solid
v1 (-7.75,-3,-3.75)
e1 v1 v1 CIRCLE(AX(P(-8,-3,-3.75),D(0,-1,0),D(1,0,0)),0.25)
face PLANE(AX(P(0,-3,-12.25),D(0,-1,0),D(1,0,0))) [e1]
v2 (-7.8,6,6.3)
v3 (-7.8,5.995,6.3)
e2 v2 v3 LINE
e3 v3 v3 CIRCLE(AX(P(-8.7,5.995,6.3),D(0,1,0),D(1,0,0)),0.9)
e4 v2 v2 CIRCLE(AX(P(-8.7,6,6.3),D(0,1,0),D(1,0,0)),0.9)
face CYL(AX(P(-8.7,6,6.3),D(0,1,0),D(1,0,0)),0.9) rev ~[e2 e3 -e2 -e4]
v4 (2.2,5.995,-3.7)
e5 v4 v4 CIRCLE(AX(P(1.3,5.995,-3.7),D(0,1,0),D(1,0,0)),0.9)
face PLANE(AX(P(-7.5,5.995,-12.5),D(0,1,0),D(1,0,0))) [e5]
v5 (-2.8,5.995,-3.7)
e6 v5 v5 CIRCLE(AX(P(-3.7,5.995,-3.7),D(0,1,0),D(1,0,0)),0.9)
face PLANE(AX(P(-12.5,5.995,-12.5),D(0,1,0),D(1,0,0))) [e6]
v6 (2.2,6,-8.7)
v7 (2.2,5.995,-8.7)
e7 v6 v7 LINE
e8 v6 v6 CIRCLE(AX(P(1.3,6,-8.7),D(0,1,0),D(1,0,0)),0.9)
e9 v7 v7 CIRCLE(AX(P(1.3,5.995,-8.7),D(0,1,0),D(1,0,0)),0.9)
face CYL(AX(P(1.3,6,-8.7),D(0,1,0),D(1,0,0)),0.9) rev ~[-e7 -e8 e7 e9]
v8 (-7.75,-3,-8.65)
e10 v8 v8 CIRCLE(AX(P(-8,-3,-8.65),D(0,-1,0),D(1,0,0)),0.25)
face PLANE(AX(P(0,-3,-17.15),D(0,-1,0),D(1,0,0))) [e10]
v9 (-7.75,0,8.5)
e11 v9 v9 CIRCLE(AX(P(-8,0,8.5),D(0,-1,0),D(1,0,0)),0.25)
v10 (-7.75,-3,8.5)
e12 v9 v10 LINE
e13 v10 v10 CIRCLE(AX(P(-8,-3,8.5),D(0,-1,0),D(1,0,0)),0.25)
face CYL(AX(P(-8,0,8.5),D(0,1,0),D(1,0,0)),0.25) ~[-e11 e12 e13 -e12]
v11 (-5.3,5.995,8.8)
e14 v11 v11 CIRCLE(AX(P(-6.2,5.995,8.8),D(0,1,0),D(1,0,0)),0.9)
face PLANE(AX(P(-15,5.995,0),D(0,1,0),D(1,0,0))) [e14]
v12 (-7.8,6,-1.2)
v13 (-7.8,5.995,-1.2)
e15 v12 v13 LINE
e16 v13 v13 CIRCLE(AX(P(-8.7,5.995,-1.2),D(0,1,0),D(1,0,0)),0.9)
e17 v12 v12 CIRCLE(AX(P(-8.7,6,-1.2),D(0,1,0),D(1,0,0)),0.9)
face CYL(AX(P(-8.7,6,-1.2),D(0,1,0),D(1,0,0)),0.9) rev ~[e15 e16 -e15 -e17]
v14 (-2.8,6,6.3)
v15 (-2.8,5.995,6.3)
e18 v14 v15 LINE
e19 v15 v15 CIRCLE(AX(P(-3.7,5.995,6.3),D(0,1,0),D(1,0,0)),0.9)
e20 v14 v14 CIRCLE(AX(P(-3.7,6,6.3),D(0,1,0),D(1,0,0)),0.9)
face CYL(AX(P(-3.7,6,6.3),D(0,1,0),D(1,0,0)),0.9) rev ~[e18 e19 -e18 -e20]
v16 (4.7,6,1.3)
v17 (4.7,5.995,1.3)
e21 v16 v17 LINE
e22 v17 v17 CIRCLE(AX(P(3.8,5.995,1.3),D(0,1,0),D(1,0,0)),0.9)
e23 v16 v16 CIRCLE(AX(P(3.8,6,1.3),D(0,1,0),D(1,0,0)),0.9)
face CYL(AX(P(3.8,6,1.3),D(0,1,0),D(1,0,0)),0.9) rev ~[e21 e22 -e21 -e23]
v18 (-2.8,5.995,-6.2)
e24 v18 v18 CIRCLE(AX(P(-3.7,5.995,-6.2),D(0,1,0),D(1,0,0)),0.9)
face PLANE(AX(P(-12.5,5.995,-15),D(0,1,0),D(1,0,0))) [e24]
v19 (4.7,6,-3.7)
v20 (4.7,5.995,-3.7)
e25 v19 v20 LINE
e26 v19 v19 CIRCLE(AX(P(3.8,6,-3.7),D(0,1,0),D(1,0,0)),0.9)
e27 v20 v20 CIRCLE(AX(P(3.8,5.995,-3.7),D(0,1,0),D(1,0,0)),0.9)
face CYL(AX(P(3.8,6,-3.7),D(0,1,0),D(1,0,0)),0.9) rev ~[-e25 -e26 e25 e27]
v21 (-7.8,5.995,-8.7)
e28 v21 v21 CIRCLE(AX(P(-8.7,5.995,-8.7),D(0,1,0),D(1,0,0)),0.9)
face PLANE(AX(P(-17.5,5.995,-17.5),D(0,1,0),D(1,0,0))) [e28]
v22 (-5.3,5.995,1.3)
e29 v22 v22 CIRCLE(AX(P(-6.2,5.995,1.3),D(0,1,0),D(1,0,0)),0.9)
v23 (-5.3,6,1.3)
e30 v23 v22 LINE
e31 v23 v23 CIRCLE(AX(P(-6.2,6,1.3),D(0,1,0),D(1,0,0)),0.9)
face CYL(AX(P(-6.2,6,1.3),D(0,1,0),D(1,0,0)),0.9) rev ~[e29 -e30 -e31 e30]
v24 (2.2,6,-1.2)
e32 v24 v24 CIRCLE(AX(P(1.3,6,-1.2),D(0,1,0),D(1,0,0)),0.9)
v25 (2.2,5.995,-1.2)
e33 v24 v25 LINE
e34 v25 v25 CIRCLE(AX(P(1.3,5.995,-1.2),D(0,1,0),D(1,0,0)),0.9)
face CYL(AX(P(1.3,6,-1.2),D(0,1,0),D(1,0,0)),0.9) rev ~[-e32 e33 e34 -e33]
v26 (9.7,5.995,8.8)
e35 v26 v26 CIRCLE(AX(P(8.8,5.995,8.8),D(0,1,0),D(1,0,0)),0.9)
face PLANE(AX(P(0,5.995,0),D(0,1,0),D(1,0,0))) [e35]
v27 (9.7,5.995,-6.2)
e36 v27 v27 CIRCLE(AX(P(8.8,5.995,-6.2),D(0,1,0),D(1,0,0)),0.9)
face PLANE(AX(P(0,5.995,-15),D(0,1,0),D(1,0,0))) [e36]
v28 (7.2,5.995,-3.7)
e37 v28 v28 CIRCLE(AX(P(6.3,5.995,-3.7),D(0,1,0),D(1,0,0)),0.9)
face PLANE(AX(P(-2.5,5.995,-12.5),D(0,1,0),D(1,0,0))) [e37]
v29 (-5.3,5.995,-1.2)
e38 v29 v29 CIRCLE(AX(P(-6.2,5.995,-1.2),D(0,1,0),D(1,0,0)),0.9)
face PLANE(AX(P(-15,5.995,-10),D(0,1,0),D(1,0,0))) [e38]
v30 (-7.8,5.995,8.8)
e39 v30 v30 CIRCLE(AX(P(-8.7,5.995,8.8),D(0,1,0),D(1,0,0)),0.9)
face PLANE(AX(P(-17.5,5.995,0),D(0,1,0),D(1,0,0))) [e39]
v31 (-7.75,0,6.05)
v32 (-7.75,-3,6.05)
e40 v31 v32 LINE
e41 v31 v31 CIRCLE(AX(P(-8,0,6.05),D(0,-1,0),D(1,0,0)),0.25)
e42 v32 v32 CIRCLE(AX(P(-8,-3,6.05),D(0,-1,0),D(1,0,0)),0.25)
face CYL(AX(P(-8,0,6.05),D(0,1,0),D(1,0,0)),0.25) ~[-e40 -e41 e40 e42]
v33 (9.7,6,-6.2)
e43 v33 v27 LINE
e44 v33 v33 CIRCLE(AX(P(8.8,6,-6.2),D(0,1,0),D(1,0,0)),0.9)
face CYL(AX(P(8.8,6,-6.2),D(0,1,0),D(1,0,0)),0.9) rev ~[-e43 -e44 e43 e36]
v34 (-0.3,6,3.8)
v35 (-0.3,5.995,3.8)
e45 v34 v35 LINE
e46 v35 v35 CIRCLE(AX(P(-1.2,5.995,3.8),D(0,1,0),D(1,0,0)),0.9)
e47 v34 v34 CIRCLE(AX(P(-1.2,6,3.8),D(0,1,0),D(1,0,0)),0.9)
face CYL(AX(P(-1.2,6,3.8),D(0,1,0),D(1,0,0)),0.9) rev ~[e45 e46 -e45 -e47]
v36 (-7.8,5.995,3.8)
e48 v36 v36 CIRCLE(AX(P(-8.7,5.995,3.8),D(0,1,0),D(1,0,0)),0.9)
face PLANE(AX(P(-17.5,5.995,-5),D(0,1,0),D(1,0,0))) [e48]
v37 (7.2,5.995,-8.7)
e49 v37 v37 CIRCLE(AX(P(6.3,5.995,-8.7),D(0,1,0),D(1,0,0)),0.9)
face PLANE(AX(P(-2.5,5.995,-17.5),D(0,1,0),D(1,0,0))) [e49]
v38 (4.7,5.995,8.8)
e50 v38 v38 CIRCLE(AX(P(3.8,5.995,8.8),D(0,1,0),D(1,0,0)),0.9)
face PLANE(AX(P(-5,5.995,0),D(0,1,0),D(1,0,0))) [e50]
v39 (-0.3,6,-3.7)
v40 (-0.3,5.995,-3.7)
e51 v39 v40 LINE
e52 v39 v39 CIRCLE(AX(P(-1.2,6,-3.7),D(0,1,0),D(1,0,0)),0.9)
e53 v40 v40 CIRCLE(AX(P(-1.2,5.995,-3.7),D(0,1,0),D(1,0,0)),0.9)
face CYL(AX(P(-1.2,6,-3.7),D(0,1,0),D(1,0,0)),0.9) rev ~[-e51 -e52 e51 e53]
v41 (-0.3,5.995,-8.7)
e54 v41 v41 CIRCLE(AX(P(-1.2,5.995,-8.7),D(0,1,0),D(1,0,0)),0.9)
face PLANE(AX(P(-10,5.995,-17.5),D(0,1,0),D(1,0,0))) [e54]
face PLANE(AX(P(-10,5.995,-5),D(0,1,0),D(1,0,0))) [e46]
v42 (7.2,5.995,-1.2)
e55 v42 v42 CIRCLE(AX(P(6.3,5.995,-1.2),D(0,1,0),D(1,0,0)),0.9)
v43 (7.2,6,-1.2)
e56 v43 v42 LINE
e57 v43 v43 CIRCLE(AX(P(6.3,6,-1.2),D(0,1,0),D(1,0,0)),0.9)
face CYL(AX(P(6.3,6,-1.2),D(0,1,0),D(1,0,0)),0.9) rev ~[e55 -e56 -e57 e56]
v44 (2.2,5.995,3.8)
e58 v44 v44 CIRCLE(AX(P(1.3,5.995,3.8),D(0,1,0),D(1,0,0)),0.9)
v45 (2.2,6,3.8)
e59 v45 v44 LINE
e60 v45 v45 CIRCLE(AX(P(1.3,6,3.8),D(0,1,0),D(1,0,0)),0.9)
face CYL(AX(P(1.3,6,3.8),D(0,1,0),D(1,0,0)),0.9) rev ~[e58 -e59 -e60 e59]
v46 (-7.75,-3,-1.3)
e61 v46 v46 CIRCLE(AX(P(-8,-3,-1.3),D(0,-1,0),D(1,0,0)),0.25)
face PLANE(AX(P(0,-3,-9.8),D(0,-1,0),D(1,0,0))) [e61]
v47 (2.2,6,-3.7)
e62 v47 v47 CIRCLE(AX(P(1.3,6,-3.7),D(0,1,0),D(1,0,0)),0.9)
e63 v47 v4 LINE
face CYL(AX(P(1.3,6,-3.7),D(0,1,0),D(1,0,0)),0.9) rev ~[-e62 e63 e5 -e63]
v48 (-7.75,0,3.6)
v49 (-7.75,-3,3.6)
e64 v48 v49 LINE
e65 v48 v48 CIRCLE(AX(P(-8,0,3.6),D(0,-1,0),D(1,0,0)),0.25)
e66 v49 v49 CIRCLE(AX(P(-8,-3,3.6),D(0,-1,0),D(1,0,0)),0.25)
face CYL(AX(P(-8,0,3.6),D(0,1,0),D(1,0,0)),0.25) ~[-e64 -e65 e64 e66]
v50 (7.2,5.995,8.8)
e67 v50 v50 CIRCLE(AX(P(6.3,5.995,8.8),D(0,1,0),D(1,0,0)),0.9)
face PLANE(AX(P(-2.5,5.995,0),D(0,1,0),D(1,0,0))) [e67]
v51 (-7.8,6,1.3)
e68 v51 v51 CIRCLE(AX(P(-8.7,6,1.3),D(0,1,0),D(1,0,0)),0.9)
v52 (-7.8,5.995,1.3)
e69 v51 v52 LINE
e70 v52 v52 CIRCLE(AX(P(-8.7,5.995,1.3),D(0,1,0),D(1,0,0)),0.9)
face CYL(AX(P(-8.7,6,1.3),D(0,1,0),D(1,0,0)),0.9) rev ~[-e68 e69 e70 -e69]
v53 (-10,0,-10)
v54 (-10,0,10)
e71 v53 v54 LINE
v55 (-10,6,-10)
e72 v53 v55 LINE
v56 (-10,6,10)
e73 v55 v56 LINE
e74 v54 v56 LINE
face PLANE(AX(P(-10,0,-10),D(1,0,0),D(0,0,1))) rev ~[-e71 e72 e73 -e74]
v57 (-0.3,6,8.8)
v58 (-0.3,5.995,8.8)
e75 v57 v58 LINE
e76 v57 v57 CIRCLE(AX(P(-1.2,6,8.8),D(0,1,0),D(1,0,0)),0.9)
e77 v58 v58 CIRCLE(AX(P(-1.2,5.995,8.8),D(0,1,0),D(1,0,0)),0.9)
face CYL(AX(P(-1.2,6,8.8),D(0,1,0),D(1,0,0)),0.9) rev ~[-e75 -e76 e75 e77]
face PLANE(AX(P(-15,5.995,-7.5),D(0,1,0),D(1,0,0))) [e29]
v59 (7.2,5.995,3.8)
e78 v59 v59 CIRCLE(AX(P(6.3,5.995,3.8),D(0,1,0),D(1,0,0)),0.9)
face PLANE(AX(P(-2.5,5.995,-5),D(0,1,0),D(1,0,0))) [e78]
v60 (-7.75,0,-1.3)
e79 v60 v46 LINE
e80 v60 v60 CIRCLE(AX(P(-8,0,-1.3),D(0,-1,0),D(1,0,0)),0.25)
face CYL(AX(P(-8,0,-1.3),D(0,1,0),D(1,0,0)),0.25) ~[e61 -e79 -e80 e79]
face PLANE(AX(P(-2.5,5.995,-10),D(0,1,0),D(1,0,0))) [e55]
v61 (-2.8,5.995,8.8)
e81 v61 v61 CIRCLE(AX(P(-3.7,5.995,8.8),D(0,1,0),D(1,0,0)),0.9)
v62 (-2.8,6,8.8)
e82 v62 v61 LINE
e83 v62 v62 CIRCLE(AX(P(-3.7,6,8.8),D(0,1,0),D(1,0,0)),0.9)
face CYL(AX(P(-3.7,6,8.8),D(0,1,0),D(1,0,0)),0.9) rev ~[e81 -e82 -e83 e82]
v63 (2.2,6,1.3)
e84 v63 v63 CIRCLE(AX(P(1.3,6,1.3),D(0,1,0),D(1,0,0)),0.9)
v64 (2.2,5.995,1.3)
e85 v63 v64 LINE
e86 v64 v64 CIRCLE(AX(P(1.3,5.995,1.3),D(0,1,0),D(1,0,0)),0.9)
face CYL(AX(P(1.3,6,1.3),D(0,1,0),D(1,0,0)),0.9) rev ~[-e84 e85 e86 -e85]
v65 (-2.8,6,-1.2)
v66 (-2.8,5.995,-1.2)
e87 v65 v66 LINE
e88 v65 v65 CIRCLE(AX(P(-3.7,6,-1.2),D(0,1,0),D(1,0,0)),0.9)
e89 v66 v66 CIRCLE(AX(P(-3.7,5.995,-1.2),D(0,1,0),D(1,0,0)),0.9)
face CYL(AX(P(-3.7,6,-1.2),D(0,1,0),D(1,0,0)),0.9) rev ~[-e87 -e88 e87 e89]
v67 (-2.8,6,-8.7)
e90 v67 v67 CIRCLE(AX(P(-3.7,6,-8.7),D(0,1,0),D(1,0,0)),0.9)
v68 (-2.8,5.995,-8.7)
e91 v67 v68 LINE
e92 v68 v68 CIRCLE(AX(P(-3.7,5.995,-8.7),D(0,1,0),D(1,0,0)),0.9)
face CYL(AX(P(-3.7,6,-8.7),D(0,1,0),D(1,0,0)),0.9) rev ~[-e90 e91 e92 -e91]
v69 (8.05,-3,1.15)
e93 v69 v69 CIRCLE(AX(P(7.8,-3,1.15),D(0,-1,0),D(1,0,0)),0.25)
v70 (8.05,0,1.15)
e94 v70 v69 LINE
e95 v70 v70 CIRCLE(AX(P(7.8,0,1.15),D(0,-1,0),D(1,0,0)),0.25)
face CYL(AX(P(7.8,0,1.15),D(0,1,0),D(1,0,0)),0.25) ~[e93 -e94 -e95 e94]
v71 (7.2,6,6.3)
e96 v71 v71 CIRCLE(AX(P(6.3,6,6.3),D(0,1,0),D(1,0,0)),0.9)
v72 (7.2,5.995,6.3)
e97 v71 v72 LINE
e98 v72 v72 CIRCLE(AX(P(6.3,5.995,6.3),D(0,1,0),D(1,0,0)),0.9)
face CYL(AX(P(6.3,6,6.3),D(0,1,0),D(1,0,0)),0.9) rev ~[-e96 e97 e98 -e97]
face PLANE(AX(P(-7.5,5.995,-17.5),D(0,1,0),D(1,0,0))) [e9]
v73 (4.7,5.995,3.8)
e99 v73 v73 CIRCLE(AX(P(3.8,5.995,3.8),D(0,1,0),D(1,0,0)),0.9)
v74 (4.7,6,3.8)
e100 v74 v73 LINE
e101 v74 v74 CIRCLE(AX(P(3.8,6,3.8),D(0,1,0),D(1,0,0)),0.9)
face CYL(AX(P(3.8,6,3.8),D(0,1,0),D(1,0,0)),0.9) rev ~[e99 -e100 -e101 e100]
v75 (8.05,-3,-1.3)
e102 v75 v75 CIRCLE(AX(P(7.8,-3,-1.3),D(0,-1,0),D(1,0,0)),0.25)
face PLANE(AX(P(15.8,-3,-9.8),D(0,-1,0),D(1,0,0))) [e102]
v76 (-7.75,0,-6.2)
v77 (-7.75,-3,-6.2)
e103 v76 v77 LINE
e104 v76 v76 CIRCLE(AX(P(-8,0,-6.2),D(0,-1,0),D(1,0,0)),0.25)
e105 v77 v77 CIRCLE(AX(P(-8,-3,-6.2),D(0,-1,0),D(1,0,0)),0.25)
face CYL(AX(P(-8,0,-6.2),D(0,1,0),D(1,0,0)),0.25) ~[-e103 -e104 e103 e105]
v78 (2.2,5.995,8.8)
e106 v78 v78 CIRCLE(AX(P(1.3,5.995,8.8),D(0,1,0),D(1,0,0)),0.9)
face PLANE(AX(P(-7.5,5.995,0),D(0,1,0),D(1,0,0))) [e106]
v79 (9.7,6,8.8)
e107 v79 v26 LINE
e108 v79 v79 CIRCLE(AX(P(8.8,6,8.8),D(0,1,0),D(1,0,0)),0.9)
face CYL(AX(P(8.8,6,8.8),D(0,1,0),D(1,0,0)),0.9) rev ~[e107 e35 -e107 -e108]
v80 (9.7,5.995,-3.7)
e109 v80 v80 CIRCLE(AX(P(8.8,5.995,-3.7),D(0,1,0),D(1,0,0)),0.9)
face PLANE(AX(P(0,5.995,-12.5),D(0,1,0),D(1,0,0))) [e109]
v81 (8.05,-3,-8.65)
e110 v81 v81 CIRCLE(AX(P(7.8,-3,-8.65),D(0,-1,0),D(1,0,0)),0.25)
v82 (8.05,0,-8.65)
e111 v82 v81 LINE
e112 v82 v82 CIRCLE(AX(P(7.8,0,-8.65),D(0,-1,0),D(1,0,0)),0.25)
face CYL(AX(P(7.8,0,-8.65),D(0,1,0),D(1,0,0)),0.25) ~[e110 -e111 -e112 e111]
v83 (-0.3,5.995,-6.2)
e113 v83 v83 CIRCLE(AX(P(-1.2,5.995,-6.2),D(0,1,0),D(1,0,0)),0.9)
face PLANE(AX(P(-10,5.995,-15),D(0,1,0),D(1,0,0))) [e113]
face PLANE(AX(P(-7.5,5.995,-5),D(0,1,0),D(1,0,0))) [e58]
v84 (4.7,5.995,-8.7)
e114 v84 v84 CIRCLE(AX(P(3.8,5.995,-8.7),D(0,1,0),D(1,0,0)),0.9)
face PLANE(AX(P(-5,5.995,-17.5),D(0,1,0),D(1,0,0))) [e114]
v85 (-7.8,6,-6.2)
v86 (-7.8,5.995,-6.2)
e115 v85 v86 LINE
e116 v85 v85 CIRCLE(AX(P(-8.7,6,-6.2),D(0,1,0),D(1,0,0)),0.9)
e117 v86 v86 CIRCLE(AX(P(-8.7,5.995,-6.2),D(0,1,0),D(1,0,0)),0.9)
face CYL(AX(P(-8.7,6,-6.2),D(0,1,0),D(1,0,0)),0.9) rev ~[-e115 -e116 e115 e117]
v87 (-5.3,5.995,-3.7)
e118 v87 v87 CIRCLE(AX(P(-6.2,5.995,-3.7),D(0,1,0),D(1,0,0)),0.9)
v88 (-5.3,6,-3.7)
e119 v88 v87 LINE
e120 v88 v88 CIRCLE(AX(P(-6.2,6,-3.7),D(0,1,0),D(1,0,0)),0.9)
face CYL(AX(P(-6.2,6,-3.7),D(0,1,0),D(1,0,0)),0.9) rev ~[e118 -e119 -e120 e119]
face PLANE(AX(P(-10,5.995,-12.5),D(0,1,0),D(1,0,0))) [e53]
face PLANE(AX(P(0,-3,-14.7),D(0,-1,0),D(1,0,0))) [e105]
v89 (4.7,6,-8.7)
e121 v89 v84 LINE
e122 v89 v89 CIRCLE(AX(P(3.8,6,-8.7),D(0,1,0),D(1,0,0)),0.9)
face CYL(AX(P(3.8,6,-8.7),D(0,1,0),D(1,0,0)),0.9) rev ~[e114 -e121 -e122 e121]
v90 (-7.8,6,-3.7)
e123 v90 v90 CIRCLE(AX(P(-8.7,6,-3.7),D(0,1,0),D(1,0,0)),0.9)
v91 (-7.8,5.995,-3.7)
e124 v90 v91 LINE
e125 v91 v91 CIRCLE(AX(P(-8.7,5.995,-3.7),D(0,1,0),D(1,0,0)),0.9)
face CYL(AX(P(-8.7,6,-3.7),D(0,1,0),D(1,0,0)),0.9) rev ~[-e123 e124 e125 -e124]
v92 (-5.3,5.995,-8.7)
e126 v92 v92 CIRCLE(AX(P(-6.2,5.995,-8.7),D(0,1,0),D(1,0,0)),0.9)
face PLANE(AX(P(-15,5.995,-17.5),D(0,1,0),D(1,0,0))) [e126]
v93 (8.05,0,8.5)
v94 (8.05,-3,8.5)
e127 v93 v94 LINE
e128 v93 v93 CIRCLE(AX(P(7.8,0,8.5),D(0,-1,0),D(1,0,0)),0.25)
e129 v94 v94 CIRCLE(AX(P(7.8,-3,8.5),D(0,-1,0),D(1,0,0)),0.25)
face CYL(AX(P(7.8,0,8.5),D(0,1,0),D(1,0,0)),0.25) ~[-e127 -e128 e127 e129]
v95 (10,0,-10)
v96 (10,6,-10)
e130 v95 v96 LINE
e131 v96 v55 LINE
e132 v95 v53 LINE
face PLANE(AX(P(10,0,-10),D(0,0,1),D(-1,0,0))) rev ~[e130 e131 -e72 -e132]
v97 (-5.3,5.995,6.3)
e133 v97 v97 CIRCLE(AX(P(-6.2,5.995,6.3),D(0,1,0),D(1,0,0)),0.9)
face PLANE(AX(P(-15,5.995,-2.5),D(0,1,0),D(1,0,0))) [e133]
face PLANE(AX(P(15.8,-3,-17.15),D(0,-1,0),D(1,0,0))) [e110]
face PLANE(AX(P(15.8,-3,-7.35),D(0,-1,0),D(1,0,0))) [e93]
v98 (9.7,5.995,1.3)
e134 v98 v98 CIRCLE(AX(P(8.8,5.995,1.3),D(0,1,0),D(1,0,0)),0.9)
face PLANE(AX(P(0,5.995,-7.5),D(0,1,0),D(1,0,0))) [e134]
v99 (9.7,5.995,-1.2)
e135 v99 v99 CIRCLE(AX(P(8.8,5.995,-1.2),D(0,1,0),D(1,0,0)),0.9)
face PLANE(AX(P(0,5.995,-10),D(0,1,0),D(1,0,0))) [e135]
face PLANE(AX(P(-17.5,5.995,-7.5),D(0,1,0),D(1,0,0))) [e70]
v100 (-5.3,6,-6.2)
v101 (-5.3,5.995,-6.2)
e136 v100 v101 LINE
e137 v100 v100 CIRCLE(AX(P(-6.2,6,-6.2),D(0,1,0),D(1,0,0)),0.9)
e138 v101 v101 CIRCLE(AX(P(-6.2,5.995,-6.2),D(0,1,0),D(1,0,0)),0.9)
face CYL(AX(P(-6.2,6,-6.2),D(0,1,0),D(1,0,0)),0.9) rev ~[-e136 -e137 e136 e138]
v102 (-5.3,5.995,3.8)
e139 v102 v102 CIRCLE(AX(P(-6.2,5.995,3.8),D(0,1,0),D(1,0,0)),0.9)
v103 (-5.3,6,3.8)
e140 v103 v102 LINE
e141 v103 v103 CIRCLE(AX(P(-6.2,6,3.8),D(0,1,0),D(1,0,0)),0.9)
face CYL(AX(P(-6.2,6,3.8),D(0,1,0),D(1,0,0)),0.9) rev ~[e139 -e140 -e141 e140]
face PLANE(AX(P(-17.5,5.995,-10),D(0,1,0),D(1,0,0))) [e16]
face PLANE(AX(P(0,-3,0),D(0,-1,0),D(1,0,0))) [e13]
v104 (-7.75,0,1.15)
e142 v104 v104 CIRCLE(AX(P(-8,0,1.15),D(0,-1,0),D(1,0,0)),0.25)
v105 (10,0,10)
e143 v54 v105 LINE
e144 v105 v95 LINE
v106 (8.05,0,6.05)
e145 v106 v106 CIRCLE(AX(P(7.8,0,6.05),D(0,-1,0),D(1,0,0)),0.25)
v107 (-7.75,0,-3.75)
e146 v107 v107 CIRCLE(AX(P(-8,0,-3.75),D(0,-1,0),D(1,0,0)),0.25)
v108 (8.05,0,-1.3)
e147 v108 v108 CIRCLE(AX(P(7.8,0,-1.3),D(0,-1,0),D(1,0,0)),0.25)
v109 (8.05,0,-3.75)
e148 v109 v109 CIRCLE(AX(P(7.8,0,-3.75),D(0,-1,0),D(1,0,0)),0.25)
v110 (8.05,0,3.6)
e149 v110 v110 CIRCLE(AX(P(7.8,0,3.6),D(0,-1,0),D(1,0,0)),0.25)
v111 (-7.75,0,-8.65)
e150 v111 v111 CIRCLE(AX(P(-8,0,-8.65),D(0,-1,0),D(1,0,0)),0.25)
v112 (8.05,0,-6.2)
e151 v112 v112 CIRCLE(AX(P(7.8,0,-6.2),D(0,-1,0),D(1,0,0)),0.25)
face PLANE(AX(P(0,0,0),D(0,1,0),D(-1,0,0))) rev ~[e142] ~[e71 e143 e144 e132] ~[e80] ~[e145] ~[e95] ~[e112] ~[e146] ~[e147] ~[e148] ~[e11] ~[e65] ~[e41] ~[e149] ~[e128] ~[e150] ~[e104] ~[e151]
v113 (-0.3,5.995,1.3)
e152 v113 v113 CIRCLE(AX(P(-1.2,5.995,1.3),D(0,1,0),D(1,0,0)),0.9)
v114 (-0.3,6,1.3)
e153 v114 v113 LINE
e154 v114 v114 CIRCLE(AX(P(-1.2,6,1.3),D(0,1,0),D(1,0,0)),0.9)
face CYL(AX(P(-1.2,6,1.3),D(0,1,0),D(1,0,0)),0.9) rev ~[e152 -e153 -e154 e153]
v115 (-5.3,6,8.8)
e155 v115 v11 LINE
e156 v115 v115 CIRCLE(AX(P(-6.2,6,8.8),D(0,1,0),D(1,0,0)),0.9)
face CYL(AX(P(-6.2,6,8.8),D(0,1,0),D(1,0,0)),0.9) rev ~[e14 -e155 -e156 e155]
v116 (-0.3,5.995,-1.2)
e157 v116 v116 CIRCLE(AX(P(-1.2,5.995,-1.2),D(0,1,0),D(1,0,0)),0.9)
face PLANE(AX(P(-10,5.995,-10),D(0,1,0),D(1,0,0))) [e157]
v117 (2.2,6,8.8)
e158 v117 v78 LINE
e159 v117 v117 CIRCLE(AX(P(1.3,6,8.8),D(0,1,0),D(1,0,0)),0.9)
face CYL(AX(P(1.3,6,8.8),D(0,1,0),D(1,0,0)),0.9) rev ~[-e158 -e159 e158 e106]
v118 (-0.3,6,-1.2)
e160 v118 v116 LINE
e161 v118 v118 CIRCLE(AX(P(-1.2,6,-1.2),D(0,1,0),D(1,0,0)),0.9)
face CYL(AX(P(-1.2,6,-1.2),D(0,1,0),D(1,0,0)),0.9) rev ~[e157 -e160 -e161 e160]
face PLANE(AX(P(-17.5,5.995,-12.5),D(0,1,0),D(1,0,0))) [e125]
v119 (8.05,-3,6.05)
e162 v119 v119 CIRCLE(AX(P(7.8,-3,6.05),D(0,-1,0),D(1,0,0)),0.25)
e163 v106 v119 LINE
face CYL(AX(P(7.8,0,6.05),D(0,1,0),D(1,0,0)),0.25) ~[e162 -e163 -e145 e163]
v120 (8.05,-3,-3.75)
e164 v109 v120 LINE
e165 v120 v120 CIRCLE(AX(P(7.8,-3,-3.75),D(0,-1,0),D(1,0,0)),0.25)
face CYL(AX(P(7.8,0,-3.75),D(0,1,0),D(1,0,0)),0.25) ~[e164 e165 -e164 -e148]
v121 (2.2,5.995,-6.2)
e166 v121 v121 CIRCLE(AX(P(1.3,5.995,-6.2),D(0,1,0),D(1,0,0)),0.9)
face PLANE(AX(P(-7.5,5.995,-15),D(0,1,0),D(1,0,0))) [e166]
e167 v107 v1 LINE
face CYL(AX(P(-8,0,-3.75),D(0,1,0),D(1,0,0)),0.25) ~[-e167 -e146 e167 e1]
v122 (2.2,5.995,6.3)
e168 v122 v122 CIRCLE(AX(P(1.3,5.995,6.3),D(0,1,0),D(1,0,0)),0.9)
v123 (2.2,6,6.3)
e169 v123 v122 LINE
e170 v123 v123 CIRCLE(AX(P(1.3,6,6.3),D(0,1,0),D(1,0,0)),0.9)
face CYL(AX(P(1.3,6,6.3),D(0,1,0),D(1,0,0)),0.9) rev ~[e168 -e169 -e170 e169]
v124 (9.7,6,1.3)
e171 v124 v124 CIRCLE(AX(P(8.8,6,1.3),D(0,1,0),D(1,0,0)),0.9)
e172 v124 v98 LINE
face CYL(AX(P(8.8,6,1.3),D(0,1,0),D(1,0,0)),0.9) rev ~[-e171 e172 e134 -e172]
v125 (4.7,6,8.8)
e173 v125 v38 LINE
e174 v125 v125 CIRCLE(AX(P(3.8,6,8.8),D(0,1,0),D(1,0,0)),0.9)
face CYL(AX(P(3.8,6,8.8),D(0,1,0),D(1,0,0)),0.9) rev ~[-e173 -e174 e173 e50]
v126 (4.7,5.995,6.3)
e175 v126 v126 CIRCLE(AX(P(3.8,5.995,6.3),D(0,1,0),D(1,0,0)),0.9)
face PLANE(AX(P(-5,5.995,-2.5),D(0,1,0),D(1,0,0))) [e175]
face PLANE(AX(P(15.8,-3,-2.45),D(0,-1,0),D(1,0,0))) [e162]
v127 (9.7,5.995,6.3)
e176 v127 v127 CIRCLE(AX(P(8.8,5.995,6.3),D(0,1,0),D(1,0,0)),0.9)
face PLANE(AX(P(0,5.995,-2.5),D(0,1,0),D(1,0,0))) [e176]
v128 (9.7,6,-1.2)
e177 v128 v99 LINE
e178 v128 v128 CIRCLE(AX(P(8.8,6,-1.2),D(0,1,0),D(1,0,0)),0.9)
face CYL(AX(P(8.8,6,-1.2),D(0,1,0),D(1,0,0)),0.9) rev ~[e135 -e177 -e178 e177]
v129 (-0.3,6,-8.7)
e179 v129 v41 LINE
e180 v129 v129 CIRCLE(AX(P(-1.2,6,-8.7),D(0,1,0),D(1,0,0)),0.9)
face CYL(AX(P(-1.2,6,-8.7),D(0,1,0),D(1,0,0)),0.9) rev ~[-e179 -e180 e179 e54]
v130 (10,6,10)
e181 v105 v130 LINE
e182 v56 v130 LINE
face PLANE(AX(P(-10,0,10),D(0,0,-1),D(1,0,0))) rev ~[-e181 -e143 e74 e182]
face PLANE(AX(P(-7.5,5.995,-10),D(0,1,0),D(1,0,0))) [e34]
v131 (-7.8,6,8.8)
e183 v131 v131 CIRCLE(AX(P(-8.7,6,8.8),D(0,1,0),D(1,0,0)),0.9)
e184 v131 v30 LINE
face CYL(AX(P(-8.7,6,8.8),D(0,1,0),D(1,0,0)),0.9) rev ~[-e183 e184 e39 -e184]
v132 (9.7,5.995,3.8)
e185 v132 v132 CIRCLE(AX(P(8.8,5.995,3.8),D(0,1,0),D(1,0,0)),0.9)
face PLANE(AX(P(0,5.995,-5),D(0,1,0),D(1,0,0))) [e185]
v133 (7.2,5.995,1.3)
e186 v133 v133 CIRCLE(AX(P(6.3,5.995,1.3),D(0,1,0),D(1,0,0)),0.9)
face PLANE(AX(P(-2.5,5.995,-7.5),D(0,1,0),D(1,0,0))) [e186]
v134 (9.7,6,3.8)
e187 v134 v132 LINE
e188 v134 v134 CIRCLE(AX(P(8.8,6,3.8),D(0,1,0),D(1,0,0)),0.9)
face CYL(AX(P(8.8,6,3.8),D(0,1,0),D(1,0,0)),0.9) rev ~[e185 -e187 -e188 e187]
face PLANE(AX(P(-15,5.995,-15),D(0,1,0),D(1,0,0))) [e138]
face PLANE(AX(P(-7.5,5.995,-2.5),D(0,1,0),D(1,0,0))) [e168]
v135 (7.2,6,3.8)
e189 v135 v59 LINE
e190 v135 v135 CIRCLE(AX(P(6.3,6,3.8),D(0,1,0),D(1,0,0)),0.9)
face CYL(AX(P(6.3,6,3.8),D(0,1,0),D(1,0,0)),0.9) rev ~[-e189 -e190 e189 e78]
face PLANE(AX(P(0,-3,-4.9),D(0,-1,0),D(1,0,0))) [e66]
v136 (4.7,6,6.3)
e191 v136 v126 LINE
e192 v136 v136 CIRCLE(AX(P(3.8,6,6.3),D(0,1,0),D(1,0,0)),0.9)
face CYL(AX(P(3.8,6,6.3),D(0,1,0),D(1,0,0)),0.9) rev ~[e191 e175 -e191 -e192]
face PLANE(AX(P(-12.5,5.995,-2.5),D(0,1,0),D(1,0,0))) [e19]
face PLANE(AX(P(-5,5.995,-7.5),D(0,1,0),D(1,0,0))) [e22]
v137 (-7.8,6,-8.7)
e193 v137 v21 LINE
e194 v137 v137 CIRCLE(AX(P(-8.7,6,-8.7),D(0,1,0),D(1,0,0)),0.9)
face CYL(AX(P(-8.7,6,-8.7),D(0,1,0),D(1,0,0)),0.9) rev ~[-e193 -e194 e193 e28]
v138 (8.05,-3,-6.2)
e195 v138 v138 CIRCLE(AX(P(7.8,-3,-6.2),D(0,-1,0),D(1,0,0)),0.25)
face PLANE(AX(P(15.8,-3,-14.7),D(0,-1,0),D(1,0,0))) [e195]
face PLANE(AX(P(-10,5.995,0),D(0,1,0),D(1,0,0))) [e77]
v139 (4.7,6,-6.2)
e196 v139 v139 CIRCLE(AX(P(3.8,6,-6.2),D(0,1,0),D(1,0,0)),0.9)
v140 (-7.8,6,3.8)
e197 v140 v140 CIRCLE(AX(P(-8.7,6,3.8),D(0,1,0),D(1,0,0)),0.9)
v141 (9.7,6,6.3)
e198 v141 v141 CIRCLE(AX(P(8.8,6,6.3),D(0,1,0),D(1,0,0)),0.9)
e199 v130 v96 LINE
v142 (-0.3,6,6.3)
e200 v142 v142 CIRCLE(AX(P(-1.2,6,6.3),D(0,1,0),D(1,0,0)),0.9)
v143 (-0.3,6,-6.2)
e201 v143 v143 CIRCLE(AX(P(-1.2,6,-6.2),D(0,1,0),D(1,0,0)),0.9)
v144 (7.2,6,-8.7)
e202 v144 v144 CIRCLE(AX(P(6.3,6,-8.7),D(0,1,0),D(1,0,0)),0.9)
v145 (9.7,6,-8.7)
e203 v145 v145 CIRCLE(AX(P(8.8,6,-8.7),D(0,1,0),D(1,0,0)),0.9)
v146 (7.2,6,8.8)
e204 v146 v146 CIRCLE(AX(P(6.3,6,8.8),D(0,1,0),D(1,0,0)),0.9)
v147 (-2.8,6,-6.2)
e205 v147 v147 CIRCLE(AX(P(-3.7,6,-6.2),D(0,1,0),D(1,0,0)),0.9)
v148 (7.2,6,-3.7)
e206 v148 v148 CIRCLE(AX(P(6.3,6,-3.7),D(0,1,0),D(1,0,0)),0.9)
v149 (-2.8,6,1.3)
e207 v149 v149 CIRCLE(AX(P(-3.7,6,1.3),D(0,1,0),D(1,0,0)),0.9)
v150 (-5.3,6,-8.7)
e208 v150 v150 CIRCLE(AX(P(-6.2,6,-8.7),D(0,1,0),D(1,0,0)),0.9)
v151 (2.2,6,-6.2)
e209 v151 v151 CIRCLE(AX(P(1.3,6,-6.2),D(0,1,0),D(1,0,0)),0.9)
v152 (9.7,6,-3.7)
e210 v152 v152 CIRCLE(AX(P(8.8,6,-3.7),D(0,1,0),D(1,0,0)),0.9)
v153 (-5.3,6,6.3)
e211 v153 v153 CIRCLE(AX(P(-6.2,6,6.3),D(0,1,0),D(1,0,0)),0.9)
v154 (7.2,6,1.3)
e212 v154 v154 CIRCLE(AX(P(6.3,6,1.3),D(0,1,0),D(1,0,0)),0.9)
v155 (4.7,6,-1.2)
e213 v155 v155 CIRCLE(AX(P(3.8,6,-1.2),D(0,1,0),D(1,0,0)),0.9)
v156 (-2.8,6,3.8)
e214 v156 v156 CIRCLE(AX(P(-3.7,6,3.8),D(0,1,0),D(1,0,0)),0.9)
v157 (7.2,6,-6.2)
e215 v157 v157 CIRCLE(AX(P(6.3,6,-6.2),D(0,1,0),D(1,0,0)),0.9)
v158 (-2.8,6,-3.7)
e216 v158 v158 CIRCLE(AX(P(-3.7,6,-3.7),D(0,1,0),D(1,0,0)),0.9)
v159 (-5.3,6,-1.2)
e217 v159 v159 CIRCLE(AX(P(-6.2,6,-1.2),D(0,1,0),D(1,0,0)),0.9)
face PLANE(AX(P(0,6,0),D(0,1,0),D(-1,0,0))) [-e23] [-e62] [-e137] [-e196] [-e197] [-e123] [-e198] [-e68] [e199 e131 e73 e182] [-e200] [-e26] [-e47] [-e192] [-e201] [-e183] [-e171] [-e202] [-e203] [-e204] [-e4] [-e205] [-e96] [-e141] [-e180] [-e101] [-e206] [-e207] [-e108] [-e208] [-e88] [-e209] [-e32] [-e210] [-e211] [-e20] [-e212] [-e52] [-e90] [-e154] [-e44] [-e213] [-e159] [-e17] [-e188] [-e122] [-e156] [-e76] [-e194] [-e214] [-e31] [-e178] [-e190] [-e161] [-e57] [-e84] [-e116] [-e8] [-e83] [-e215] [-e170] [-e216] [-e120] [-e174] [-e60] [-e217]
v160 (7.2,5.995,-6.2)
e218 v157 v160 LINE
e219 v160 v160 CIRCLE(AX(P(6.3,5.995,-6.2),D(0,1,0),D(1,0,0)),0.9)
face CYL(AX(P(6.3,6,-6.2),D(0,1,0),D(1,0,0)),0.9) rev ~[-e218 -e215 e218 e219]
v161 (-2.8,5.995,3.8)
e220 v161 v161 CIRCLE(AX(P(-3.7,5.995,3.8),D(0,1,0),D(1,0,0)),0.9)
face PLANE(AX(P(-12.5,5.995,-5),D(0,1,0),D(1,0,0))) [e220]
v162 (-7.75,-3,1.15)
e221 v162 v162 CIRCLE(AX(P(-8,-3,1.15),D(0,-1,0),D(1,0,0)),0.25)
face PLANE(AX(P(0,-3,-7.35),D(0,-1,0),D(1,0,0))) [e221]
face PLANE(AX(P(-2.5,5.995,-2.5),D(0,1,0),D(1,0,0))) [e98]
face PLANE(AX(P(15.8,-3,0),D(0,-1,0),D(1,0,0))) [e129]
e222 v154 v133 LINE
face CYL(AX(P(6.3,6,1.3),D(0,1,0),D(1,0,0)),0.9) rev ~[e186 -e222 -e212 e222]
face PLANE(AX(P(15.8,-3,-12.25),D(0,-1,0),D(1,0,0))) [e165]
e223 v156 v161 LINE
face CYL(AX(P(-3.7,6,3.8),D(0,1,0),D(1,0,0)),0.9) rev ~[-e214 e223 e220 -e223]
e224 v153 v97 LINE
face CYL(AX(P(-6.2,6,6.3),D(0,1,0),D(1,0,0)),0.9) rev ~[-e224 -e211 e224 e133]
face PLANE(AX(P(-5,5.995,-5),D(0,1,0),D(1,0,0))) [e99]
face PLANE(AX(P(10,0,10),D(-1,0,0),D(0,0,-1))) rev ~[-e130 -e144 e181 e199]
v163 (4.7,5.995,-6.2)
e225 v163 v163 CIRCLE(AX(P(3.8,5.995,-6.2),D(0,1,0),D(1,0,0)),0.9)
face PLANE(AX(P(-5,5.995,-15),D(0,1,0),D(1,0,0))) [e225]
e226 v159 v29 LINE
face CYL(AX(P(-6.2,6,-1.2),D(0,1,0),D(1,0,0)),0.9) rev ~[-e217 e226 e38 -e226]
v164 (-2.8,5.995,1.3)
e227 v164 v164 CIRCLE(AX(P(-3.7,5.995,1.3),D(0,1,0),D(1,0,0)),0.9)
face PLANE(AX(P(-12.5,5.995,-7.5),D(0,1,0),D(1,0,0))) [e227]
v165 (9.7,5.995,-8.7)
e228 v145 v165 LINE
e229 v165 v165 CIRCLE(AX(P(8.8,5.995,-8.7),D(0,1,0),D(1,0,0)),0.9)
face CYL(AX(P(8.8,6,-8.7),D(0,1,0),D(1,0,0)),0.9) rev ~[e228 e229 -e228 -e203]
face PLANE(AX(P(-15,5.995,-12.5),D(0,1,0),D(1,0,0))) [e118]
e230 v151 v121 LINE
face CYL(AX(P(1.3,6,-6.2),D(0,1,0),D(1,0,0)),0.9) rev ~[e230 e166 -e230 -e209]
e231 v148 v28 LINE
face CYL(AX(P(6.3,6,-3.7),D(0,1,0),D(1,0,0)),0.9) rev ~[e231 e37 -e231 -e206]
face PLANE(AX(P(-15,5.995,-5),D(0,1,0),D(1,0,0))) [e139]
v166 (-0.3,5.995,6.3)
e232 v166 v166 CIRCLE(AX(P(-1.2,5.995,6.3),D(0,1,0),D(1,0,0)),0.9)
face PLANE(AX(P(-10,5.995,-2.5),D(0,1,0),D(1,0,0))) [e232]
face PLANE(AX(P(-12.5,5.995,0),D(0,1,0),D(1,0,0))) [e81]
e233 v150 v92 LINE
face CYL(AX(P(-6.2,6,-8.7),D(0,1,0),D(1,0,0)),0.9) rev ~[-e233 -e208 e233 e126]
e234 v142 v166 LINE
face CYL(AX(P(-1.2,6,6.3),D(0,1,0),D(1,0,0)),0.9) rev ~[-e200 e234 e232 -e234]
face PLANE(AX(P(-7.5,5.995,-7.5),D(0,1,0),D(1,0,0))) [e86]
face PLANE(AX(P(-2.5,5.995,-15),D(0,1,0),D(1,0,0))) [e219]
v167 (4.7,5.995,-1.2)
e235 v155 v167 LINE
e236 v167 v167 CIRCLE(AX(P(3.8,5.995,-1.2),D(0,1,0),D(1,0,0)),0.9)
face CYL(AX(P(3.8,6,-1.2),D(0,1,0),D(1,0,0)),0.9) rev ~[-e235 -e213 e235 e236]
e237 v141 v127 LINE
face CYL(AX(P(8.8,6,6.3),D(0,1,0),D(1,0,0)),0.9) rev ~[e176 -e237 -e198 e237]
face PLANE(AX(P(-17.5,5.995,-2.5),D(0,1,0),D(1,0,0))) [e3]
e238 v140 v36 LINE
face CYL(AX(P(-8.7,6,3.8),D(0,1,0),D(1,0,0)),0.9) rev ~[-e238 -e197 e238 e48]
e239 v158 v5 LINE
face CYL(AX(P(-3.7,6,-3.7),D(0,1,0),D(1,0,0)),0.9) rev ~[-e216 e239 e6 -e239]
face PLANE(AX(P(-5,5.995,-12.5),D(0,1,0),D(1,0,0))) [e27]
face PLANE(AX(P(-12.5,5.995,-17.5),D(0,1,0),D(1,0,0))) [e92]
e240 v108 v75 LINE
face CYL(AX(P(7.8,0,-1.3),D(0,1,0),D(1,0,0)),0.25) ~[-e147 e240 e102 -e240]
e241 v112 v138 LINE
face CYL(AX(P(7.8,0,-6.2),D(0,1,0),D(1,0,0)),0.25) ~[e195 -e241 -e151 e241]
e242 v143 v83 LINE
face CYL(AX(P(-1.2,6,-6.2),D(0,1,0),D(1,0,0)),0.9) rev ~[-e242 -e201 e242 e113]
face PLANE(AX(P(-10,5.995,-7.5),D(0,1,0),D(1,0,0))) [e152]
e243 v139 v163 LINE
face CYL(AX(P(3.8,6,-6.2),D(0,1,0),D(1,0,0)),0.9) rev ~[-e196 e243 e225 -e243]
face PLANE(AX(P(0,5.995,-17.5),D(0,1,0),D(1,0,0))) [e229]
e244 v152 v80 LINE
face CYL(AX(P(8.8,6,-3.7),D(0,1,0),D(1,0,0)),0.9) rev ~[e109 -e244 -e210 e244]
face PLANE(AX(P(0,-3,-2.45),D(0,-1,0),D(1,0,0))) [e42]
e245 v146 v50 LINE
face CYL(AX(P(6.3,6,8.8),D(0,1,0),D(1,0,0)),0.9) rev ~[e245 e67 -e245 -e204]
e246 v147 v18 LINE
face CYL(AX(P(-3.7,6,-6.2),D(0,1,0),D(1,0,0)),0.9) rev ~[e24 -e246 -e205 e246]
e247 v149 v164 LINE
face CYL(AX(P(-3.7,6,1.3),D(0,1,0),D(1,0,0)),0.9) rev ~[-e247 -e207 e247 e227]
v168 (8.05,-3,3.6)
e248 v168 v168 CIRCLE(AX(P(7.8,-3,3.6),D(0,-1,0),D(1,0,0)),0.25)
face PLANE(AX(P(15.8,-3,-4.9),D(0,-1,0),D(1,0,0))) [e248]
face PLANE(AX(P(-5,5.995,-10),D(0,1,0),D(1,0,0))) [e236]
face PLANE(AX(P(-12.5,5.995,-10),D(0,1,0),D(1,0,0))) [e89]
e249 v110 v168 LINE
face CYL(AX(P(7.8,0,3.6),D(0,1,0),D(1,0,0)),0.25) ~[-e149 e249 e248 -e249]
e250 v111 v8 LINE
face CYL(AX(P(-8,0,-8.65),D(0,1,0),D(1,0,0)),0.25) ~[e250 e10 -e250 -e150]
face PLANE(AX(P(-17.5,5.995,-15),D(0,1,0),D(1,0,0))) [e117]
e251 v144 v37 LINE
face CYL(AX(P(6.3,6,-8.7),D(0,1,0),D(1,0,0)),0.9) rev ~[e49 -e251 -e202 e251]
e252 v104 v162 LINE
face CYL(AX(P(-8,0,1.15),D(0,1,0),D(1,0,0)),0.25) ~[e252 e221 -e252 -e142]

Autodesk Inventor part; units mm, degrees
ref_plane "YZ Plane" through (0, 0, 0) normal (1, 0, 0) x (0, 1, 0)
ref_plane "XZ Plane" through (0, 0, 0) normal (0, 1, 0) x (-1, 0, 0)
ref_plane "XY Plane" through (0, 0, 0) normal (0, 0, 1) x (1, 0, 0)
sketch "Sketch1" plane through (0, 0, 0) normal (0, 1, 0) x (-1, 0, 0)
  line L0 (10, 10) -> (-10, 10)
  line L1 (-10, 10) -> (-10, -10)
  line L2 (-10, -10) -> (10, -10)
  line L3 (10, -10) -> (10, 10)
  line L4 (10, 10) -> (-10, -10) construction
  line L5 (-10, 10) -> (10, -10) construction
  point P0 (0, 0)
  dimension "d0" = 20
  dimension "d1" = 20
extrude "Extrusion1" add sketch "Sketch1" along normal blind 6
sketch "Sketch2" plane through (0, 6, 0) normal (0, 1, 0) x (1, 0, 0)
  circle A0 centre (8.8, -8.8) radius 0.9
  line L0 (10, -10) -> (10, 10) projected
  line L1 (-10, -10) -> (10, -10) projected
  circle A1 centre (8.8, -6.3) radius 0.9
  circle A2 centre (8.8, -3.8) radius 0.9
  circle A3 centre (8.8, -1.3) radius 0.9
  circle A4 centre (8.8, 1.2) radius 0.9
  circle A5 centre (8.8, 3.7) radius 0.9
  circle A6 centre (8.8, 6.2) radius 0.9
  circle A7 centre (8.8, 8.7) radius 0.9
  circle A8 centre (6.3, -8.8) radius 0.9
  circle A9 centre (6.3, -6.3) radius 0.9
  circle A10 centre (6.3, -3.8) radius 0.9
  circle A11 centre (6.3, -1.3) radius 0.9
  circle A12 centre (6.3, 1.2) radius 0.9
  circle A13 centre (6.3, 3.7) radius 0.9
  circle A14 centre (6.3, 6.2) radius 0.9
  circle A15 centre (6.3, 8.7) radius 0.9
  circle A16 centre (3.8, -8.8) radius 0.9
  circle A17 centre (3.8, -6.3) radius 0.9
  circle A18 centre (3.8, -3.8) radius 0.9
  circle A19 centre (3.8, -1.3) radius 0.9
  circle A20 centre (3.8, 1.2) radius 0.9
  circle A21 centre (3.8, 3.7) radius 0.9
  circle A22 centre (3.8, 6.2) radius 0.9
  circle A23 centre (3.8, 8.7) radius 0.9
  circle A24 centre (1.3, -8.8) radius 0.9
  circle A25 centre (1.3, -6.3) radius 0.9
  circle A26 centre (1.3, -3.8) radius 0.9
  circle A27 centre (1.3, -1.3) radius 0.9
  circle A28 centre (1.3, 1.2) radius 0.9
  circle A29 centre (1.3, 3.7) radius 0.9
  circle A30 centre (1.3, 6.2) radius 0.9
  circle A31 centre (1.3, 8.7) radius 0.9
  circle A32 centre (-1.2, -8.8) radius 0.9
  circle A33 centre (-1.2, -6.3) radius 0.9
  circle A34 centre (-1.2, -3.8) radius 0.9
  circle A35 centre (-1.2, -1.3) radius 0.9
  circle A36 centre (-1.2, 1.2) radius 0.9
  circle A37 centre (-1.2, 3.7) radius 0.9
  circle A38 centre (-1.2, 6.2) radius 0.9
  circle A39 centre (-1.2, 8.7) radius 0.9
  circle A40 centre (-3.7, -8.8) radius 0.9
  circle A41 centre (-3.7, -6.3) radius 0.9
  circle A42 centre (-3.7, -3.8) radius 0.9
  circle A43 centre (-3.7, -1.3) radius 0.9
  circle A44 centre (-3.7, 1.2) radius 0.9
  circle A45 centre (-3.7, 3.7) radius 0.9
  circle A46 centre (-3.7, 6.2) radius 0.9
  circle A47 centre (-3.7, 8.7) radius 0.9
  circle A48 centre (-6.2, -8.8) radius 0.9
  circle A49 centre (-6.2, -6.3) radius 0.9
  circle A50 centre (-6.2, -3.8) radius 0.9
  circle A51 centre (-6.2, -1.3) radius 0.9
  circle A52 centre (-6.2, 1.2) radius 0.9
  circle A53 centre (-6.2, 3.7) radius 0.9
  circle A54 centre (-6.2, 6.2) radius 0.9
  circle A55 centre (-6.2, 8.7) radius 0.9
  circle A56 centre (-8.7, -8.8) radius 0.9
  circle A57 centre (-8.7, -6.3) radius 0.9
  circle A58 centre (-8.7, -3.8) radius 0.9
  circle A59 centre (-8.7, -1.3) radius 0.9
  circle A60 centre (-8.7, 1.2) radius 0.9
  circle A61 centre (-8.7, 3.7) radius 0.9
  circle A62 centre (-8.7, 6.2) radius 0.9
  circle A63 centre (-8.7, 8.7) radius 0.9
  point P0 (0, 0)
  dimension "d4" = 1.8
  dimension "d5" = 1.2
  dimension "d6" = 1.2
  dimension "d9" = 2.5
  dimension "d12" = 2.5
extrude "Extrusion2" cut sketch "Sketch2" against normal blind 0.005 contours A0
pattern_linear "Rectangular Pattern1" count 8 spacing 2.5 along (-1, 0, 0) count 8 spacing 2.5 along (0, 0, -1) of "Extrusion2"
sketch "Sketch3" plane through (0, 0, 0) normal (0, -1, 0) x (1, 0, 0)
  circle A0 centre (-8, 8.5) radius 0.25
  line L0 (-10, 10) -> (10, 10) projected
  line L1 (10, 10) -> (10, -10) projected
  line L2 (10, -10) -> (-10, -10) projected
  line L3 (-10, -10) -> (-10, 10) projected
  point P0 (0, 0)
  dimension "d23" = 0.5
  dimension "d24" = 1.5
  dimension "d25" = 2
extrude "Extrusion3" add sketch "Sketch3" along normal blind 3 contours A0
pattern_linear "Rectangular Pattern2" count 8 spacing 2.45 along (0, 0, -1) count 2 spacing 15.8 along (1, 0, 0) of "Extrusion3"
